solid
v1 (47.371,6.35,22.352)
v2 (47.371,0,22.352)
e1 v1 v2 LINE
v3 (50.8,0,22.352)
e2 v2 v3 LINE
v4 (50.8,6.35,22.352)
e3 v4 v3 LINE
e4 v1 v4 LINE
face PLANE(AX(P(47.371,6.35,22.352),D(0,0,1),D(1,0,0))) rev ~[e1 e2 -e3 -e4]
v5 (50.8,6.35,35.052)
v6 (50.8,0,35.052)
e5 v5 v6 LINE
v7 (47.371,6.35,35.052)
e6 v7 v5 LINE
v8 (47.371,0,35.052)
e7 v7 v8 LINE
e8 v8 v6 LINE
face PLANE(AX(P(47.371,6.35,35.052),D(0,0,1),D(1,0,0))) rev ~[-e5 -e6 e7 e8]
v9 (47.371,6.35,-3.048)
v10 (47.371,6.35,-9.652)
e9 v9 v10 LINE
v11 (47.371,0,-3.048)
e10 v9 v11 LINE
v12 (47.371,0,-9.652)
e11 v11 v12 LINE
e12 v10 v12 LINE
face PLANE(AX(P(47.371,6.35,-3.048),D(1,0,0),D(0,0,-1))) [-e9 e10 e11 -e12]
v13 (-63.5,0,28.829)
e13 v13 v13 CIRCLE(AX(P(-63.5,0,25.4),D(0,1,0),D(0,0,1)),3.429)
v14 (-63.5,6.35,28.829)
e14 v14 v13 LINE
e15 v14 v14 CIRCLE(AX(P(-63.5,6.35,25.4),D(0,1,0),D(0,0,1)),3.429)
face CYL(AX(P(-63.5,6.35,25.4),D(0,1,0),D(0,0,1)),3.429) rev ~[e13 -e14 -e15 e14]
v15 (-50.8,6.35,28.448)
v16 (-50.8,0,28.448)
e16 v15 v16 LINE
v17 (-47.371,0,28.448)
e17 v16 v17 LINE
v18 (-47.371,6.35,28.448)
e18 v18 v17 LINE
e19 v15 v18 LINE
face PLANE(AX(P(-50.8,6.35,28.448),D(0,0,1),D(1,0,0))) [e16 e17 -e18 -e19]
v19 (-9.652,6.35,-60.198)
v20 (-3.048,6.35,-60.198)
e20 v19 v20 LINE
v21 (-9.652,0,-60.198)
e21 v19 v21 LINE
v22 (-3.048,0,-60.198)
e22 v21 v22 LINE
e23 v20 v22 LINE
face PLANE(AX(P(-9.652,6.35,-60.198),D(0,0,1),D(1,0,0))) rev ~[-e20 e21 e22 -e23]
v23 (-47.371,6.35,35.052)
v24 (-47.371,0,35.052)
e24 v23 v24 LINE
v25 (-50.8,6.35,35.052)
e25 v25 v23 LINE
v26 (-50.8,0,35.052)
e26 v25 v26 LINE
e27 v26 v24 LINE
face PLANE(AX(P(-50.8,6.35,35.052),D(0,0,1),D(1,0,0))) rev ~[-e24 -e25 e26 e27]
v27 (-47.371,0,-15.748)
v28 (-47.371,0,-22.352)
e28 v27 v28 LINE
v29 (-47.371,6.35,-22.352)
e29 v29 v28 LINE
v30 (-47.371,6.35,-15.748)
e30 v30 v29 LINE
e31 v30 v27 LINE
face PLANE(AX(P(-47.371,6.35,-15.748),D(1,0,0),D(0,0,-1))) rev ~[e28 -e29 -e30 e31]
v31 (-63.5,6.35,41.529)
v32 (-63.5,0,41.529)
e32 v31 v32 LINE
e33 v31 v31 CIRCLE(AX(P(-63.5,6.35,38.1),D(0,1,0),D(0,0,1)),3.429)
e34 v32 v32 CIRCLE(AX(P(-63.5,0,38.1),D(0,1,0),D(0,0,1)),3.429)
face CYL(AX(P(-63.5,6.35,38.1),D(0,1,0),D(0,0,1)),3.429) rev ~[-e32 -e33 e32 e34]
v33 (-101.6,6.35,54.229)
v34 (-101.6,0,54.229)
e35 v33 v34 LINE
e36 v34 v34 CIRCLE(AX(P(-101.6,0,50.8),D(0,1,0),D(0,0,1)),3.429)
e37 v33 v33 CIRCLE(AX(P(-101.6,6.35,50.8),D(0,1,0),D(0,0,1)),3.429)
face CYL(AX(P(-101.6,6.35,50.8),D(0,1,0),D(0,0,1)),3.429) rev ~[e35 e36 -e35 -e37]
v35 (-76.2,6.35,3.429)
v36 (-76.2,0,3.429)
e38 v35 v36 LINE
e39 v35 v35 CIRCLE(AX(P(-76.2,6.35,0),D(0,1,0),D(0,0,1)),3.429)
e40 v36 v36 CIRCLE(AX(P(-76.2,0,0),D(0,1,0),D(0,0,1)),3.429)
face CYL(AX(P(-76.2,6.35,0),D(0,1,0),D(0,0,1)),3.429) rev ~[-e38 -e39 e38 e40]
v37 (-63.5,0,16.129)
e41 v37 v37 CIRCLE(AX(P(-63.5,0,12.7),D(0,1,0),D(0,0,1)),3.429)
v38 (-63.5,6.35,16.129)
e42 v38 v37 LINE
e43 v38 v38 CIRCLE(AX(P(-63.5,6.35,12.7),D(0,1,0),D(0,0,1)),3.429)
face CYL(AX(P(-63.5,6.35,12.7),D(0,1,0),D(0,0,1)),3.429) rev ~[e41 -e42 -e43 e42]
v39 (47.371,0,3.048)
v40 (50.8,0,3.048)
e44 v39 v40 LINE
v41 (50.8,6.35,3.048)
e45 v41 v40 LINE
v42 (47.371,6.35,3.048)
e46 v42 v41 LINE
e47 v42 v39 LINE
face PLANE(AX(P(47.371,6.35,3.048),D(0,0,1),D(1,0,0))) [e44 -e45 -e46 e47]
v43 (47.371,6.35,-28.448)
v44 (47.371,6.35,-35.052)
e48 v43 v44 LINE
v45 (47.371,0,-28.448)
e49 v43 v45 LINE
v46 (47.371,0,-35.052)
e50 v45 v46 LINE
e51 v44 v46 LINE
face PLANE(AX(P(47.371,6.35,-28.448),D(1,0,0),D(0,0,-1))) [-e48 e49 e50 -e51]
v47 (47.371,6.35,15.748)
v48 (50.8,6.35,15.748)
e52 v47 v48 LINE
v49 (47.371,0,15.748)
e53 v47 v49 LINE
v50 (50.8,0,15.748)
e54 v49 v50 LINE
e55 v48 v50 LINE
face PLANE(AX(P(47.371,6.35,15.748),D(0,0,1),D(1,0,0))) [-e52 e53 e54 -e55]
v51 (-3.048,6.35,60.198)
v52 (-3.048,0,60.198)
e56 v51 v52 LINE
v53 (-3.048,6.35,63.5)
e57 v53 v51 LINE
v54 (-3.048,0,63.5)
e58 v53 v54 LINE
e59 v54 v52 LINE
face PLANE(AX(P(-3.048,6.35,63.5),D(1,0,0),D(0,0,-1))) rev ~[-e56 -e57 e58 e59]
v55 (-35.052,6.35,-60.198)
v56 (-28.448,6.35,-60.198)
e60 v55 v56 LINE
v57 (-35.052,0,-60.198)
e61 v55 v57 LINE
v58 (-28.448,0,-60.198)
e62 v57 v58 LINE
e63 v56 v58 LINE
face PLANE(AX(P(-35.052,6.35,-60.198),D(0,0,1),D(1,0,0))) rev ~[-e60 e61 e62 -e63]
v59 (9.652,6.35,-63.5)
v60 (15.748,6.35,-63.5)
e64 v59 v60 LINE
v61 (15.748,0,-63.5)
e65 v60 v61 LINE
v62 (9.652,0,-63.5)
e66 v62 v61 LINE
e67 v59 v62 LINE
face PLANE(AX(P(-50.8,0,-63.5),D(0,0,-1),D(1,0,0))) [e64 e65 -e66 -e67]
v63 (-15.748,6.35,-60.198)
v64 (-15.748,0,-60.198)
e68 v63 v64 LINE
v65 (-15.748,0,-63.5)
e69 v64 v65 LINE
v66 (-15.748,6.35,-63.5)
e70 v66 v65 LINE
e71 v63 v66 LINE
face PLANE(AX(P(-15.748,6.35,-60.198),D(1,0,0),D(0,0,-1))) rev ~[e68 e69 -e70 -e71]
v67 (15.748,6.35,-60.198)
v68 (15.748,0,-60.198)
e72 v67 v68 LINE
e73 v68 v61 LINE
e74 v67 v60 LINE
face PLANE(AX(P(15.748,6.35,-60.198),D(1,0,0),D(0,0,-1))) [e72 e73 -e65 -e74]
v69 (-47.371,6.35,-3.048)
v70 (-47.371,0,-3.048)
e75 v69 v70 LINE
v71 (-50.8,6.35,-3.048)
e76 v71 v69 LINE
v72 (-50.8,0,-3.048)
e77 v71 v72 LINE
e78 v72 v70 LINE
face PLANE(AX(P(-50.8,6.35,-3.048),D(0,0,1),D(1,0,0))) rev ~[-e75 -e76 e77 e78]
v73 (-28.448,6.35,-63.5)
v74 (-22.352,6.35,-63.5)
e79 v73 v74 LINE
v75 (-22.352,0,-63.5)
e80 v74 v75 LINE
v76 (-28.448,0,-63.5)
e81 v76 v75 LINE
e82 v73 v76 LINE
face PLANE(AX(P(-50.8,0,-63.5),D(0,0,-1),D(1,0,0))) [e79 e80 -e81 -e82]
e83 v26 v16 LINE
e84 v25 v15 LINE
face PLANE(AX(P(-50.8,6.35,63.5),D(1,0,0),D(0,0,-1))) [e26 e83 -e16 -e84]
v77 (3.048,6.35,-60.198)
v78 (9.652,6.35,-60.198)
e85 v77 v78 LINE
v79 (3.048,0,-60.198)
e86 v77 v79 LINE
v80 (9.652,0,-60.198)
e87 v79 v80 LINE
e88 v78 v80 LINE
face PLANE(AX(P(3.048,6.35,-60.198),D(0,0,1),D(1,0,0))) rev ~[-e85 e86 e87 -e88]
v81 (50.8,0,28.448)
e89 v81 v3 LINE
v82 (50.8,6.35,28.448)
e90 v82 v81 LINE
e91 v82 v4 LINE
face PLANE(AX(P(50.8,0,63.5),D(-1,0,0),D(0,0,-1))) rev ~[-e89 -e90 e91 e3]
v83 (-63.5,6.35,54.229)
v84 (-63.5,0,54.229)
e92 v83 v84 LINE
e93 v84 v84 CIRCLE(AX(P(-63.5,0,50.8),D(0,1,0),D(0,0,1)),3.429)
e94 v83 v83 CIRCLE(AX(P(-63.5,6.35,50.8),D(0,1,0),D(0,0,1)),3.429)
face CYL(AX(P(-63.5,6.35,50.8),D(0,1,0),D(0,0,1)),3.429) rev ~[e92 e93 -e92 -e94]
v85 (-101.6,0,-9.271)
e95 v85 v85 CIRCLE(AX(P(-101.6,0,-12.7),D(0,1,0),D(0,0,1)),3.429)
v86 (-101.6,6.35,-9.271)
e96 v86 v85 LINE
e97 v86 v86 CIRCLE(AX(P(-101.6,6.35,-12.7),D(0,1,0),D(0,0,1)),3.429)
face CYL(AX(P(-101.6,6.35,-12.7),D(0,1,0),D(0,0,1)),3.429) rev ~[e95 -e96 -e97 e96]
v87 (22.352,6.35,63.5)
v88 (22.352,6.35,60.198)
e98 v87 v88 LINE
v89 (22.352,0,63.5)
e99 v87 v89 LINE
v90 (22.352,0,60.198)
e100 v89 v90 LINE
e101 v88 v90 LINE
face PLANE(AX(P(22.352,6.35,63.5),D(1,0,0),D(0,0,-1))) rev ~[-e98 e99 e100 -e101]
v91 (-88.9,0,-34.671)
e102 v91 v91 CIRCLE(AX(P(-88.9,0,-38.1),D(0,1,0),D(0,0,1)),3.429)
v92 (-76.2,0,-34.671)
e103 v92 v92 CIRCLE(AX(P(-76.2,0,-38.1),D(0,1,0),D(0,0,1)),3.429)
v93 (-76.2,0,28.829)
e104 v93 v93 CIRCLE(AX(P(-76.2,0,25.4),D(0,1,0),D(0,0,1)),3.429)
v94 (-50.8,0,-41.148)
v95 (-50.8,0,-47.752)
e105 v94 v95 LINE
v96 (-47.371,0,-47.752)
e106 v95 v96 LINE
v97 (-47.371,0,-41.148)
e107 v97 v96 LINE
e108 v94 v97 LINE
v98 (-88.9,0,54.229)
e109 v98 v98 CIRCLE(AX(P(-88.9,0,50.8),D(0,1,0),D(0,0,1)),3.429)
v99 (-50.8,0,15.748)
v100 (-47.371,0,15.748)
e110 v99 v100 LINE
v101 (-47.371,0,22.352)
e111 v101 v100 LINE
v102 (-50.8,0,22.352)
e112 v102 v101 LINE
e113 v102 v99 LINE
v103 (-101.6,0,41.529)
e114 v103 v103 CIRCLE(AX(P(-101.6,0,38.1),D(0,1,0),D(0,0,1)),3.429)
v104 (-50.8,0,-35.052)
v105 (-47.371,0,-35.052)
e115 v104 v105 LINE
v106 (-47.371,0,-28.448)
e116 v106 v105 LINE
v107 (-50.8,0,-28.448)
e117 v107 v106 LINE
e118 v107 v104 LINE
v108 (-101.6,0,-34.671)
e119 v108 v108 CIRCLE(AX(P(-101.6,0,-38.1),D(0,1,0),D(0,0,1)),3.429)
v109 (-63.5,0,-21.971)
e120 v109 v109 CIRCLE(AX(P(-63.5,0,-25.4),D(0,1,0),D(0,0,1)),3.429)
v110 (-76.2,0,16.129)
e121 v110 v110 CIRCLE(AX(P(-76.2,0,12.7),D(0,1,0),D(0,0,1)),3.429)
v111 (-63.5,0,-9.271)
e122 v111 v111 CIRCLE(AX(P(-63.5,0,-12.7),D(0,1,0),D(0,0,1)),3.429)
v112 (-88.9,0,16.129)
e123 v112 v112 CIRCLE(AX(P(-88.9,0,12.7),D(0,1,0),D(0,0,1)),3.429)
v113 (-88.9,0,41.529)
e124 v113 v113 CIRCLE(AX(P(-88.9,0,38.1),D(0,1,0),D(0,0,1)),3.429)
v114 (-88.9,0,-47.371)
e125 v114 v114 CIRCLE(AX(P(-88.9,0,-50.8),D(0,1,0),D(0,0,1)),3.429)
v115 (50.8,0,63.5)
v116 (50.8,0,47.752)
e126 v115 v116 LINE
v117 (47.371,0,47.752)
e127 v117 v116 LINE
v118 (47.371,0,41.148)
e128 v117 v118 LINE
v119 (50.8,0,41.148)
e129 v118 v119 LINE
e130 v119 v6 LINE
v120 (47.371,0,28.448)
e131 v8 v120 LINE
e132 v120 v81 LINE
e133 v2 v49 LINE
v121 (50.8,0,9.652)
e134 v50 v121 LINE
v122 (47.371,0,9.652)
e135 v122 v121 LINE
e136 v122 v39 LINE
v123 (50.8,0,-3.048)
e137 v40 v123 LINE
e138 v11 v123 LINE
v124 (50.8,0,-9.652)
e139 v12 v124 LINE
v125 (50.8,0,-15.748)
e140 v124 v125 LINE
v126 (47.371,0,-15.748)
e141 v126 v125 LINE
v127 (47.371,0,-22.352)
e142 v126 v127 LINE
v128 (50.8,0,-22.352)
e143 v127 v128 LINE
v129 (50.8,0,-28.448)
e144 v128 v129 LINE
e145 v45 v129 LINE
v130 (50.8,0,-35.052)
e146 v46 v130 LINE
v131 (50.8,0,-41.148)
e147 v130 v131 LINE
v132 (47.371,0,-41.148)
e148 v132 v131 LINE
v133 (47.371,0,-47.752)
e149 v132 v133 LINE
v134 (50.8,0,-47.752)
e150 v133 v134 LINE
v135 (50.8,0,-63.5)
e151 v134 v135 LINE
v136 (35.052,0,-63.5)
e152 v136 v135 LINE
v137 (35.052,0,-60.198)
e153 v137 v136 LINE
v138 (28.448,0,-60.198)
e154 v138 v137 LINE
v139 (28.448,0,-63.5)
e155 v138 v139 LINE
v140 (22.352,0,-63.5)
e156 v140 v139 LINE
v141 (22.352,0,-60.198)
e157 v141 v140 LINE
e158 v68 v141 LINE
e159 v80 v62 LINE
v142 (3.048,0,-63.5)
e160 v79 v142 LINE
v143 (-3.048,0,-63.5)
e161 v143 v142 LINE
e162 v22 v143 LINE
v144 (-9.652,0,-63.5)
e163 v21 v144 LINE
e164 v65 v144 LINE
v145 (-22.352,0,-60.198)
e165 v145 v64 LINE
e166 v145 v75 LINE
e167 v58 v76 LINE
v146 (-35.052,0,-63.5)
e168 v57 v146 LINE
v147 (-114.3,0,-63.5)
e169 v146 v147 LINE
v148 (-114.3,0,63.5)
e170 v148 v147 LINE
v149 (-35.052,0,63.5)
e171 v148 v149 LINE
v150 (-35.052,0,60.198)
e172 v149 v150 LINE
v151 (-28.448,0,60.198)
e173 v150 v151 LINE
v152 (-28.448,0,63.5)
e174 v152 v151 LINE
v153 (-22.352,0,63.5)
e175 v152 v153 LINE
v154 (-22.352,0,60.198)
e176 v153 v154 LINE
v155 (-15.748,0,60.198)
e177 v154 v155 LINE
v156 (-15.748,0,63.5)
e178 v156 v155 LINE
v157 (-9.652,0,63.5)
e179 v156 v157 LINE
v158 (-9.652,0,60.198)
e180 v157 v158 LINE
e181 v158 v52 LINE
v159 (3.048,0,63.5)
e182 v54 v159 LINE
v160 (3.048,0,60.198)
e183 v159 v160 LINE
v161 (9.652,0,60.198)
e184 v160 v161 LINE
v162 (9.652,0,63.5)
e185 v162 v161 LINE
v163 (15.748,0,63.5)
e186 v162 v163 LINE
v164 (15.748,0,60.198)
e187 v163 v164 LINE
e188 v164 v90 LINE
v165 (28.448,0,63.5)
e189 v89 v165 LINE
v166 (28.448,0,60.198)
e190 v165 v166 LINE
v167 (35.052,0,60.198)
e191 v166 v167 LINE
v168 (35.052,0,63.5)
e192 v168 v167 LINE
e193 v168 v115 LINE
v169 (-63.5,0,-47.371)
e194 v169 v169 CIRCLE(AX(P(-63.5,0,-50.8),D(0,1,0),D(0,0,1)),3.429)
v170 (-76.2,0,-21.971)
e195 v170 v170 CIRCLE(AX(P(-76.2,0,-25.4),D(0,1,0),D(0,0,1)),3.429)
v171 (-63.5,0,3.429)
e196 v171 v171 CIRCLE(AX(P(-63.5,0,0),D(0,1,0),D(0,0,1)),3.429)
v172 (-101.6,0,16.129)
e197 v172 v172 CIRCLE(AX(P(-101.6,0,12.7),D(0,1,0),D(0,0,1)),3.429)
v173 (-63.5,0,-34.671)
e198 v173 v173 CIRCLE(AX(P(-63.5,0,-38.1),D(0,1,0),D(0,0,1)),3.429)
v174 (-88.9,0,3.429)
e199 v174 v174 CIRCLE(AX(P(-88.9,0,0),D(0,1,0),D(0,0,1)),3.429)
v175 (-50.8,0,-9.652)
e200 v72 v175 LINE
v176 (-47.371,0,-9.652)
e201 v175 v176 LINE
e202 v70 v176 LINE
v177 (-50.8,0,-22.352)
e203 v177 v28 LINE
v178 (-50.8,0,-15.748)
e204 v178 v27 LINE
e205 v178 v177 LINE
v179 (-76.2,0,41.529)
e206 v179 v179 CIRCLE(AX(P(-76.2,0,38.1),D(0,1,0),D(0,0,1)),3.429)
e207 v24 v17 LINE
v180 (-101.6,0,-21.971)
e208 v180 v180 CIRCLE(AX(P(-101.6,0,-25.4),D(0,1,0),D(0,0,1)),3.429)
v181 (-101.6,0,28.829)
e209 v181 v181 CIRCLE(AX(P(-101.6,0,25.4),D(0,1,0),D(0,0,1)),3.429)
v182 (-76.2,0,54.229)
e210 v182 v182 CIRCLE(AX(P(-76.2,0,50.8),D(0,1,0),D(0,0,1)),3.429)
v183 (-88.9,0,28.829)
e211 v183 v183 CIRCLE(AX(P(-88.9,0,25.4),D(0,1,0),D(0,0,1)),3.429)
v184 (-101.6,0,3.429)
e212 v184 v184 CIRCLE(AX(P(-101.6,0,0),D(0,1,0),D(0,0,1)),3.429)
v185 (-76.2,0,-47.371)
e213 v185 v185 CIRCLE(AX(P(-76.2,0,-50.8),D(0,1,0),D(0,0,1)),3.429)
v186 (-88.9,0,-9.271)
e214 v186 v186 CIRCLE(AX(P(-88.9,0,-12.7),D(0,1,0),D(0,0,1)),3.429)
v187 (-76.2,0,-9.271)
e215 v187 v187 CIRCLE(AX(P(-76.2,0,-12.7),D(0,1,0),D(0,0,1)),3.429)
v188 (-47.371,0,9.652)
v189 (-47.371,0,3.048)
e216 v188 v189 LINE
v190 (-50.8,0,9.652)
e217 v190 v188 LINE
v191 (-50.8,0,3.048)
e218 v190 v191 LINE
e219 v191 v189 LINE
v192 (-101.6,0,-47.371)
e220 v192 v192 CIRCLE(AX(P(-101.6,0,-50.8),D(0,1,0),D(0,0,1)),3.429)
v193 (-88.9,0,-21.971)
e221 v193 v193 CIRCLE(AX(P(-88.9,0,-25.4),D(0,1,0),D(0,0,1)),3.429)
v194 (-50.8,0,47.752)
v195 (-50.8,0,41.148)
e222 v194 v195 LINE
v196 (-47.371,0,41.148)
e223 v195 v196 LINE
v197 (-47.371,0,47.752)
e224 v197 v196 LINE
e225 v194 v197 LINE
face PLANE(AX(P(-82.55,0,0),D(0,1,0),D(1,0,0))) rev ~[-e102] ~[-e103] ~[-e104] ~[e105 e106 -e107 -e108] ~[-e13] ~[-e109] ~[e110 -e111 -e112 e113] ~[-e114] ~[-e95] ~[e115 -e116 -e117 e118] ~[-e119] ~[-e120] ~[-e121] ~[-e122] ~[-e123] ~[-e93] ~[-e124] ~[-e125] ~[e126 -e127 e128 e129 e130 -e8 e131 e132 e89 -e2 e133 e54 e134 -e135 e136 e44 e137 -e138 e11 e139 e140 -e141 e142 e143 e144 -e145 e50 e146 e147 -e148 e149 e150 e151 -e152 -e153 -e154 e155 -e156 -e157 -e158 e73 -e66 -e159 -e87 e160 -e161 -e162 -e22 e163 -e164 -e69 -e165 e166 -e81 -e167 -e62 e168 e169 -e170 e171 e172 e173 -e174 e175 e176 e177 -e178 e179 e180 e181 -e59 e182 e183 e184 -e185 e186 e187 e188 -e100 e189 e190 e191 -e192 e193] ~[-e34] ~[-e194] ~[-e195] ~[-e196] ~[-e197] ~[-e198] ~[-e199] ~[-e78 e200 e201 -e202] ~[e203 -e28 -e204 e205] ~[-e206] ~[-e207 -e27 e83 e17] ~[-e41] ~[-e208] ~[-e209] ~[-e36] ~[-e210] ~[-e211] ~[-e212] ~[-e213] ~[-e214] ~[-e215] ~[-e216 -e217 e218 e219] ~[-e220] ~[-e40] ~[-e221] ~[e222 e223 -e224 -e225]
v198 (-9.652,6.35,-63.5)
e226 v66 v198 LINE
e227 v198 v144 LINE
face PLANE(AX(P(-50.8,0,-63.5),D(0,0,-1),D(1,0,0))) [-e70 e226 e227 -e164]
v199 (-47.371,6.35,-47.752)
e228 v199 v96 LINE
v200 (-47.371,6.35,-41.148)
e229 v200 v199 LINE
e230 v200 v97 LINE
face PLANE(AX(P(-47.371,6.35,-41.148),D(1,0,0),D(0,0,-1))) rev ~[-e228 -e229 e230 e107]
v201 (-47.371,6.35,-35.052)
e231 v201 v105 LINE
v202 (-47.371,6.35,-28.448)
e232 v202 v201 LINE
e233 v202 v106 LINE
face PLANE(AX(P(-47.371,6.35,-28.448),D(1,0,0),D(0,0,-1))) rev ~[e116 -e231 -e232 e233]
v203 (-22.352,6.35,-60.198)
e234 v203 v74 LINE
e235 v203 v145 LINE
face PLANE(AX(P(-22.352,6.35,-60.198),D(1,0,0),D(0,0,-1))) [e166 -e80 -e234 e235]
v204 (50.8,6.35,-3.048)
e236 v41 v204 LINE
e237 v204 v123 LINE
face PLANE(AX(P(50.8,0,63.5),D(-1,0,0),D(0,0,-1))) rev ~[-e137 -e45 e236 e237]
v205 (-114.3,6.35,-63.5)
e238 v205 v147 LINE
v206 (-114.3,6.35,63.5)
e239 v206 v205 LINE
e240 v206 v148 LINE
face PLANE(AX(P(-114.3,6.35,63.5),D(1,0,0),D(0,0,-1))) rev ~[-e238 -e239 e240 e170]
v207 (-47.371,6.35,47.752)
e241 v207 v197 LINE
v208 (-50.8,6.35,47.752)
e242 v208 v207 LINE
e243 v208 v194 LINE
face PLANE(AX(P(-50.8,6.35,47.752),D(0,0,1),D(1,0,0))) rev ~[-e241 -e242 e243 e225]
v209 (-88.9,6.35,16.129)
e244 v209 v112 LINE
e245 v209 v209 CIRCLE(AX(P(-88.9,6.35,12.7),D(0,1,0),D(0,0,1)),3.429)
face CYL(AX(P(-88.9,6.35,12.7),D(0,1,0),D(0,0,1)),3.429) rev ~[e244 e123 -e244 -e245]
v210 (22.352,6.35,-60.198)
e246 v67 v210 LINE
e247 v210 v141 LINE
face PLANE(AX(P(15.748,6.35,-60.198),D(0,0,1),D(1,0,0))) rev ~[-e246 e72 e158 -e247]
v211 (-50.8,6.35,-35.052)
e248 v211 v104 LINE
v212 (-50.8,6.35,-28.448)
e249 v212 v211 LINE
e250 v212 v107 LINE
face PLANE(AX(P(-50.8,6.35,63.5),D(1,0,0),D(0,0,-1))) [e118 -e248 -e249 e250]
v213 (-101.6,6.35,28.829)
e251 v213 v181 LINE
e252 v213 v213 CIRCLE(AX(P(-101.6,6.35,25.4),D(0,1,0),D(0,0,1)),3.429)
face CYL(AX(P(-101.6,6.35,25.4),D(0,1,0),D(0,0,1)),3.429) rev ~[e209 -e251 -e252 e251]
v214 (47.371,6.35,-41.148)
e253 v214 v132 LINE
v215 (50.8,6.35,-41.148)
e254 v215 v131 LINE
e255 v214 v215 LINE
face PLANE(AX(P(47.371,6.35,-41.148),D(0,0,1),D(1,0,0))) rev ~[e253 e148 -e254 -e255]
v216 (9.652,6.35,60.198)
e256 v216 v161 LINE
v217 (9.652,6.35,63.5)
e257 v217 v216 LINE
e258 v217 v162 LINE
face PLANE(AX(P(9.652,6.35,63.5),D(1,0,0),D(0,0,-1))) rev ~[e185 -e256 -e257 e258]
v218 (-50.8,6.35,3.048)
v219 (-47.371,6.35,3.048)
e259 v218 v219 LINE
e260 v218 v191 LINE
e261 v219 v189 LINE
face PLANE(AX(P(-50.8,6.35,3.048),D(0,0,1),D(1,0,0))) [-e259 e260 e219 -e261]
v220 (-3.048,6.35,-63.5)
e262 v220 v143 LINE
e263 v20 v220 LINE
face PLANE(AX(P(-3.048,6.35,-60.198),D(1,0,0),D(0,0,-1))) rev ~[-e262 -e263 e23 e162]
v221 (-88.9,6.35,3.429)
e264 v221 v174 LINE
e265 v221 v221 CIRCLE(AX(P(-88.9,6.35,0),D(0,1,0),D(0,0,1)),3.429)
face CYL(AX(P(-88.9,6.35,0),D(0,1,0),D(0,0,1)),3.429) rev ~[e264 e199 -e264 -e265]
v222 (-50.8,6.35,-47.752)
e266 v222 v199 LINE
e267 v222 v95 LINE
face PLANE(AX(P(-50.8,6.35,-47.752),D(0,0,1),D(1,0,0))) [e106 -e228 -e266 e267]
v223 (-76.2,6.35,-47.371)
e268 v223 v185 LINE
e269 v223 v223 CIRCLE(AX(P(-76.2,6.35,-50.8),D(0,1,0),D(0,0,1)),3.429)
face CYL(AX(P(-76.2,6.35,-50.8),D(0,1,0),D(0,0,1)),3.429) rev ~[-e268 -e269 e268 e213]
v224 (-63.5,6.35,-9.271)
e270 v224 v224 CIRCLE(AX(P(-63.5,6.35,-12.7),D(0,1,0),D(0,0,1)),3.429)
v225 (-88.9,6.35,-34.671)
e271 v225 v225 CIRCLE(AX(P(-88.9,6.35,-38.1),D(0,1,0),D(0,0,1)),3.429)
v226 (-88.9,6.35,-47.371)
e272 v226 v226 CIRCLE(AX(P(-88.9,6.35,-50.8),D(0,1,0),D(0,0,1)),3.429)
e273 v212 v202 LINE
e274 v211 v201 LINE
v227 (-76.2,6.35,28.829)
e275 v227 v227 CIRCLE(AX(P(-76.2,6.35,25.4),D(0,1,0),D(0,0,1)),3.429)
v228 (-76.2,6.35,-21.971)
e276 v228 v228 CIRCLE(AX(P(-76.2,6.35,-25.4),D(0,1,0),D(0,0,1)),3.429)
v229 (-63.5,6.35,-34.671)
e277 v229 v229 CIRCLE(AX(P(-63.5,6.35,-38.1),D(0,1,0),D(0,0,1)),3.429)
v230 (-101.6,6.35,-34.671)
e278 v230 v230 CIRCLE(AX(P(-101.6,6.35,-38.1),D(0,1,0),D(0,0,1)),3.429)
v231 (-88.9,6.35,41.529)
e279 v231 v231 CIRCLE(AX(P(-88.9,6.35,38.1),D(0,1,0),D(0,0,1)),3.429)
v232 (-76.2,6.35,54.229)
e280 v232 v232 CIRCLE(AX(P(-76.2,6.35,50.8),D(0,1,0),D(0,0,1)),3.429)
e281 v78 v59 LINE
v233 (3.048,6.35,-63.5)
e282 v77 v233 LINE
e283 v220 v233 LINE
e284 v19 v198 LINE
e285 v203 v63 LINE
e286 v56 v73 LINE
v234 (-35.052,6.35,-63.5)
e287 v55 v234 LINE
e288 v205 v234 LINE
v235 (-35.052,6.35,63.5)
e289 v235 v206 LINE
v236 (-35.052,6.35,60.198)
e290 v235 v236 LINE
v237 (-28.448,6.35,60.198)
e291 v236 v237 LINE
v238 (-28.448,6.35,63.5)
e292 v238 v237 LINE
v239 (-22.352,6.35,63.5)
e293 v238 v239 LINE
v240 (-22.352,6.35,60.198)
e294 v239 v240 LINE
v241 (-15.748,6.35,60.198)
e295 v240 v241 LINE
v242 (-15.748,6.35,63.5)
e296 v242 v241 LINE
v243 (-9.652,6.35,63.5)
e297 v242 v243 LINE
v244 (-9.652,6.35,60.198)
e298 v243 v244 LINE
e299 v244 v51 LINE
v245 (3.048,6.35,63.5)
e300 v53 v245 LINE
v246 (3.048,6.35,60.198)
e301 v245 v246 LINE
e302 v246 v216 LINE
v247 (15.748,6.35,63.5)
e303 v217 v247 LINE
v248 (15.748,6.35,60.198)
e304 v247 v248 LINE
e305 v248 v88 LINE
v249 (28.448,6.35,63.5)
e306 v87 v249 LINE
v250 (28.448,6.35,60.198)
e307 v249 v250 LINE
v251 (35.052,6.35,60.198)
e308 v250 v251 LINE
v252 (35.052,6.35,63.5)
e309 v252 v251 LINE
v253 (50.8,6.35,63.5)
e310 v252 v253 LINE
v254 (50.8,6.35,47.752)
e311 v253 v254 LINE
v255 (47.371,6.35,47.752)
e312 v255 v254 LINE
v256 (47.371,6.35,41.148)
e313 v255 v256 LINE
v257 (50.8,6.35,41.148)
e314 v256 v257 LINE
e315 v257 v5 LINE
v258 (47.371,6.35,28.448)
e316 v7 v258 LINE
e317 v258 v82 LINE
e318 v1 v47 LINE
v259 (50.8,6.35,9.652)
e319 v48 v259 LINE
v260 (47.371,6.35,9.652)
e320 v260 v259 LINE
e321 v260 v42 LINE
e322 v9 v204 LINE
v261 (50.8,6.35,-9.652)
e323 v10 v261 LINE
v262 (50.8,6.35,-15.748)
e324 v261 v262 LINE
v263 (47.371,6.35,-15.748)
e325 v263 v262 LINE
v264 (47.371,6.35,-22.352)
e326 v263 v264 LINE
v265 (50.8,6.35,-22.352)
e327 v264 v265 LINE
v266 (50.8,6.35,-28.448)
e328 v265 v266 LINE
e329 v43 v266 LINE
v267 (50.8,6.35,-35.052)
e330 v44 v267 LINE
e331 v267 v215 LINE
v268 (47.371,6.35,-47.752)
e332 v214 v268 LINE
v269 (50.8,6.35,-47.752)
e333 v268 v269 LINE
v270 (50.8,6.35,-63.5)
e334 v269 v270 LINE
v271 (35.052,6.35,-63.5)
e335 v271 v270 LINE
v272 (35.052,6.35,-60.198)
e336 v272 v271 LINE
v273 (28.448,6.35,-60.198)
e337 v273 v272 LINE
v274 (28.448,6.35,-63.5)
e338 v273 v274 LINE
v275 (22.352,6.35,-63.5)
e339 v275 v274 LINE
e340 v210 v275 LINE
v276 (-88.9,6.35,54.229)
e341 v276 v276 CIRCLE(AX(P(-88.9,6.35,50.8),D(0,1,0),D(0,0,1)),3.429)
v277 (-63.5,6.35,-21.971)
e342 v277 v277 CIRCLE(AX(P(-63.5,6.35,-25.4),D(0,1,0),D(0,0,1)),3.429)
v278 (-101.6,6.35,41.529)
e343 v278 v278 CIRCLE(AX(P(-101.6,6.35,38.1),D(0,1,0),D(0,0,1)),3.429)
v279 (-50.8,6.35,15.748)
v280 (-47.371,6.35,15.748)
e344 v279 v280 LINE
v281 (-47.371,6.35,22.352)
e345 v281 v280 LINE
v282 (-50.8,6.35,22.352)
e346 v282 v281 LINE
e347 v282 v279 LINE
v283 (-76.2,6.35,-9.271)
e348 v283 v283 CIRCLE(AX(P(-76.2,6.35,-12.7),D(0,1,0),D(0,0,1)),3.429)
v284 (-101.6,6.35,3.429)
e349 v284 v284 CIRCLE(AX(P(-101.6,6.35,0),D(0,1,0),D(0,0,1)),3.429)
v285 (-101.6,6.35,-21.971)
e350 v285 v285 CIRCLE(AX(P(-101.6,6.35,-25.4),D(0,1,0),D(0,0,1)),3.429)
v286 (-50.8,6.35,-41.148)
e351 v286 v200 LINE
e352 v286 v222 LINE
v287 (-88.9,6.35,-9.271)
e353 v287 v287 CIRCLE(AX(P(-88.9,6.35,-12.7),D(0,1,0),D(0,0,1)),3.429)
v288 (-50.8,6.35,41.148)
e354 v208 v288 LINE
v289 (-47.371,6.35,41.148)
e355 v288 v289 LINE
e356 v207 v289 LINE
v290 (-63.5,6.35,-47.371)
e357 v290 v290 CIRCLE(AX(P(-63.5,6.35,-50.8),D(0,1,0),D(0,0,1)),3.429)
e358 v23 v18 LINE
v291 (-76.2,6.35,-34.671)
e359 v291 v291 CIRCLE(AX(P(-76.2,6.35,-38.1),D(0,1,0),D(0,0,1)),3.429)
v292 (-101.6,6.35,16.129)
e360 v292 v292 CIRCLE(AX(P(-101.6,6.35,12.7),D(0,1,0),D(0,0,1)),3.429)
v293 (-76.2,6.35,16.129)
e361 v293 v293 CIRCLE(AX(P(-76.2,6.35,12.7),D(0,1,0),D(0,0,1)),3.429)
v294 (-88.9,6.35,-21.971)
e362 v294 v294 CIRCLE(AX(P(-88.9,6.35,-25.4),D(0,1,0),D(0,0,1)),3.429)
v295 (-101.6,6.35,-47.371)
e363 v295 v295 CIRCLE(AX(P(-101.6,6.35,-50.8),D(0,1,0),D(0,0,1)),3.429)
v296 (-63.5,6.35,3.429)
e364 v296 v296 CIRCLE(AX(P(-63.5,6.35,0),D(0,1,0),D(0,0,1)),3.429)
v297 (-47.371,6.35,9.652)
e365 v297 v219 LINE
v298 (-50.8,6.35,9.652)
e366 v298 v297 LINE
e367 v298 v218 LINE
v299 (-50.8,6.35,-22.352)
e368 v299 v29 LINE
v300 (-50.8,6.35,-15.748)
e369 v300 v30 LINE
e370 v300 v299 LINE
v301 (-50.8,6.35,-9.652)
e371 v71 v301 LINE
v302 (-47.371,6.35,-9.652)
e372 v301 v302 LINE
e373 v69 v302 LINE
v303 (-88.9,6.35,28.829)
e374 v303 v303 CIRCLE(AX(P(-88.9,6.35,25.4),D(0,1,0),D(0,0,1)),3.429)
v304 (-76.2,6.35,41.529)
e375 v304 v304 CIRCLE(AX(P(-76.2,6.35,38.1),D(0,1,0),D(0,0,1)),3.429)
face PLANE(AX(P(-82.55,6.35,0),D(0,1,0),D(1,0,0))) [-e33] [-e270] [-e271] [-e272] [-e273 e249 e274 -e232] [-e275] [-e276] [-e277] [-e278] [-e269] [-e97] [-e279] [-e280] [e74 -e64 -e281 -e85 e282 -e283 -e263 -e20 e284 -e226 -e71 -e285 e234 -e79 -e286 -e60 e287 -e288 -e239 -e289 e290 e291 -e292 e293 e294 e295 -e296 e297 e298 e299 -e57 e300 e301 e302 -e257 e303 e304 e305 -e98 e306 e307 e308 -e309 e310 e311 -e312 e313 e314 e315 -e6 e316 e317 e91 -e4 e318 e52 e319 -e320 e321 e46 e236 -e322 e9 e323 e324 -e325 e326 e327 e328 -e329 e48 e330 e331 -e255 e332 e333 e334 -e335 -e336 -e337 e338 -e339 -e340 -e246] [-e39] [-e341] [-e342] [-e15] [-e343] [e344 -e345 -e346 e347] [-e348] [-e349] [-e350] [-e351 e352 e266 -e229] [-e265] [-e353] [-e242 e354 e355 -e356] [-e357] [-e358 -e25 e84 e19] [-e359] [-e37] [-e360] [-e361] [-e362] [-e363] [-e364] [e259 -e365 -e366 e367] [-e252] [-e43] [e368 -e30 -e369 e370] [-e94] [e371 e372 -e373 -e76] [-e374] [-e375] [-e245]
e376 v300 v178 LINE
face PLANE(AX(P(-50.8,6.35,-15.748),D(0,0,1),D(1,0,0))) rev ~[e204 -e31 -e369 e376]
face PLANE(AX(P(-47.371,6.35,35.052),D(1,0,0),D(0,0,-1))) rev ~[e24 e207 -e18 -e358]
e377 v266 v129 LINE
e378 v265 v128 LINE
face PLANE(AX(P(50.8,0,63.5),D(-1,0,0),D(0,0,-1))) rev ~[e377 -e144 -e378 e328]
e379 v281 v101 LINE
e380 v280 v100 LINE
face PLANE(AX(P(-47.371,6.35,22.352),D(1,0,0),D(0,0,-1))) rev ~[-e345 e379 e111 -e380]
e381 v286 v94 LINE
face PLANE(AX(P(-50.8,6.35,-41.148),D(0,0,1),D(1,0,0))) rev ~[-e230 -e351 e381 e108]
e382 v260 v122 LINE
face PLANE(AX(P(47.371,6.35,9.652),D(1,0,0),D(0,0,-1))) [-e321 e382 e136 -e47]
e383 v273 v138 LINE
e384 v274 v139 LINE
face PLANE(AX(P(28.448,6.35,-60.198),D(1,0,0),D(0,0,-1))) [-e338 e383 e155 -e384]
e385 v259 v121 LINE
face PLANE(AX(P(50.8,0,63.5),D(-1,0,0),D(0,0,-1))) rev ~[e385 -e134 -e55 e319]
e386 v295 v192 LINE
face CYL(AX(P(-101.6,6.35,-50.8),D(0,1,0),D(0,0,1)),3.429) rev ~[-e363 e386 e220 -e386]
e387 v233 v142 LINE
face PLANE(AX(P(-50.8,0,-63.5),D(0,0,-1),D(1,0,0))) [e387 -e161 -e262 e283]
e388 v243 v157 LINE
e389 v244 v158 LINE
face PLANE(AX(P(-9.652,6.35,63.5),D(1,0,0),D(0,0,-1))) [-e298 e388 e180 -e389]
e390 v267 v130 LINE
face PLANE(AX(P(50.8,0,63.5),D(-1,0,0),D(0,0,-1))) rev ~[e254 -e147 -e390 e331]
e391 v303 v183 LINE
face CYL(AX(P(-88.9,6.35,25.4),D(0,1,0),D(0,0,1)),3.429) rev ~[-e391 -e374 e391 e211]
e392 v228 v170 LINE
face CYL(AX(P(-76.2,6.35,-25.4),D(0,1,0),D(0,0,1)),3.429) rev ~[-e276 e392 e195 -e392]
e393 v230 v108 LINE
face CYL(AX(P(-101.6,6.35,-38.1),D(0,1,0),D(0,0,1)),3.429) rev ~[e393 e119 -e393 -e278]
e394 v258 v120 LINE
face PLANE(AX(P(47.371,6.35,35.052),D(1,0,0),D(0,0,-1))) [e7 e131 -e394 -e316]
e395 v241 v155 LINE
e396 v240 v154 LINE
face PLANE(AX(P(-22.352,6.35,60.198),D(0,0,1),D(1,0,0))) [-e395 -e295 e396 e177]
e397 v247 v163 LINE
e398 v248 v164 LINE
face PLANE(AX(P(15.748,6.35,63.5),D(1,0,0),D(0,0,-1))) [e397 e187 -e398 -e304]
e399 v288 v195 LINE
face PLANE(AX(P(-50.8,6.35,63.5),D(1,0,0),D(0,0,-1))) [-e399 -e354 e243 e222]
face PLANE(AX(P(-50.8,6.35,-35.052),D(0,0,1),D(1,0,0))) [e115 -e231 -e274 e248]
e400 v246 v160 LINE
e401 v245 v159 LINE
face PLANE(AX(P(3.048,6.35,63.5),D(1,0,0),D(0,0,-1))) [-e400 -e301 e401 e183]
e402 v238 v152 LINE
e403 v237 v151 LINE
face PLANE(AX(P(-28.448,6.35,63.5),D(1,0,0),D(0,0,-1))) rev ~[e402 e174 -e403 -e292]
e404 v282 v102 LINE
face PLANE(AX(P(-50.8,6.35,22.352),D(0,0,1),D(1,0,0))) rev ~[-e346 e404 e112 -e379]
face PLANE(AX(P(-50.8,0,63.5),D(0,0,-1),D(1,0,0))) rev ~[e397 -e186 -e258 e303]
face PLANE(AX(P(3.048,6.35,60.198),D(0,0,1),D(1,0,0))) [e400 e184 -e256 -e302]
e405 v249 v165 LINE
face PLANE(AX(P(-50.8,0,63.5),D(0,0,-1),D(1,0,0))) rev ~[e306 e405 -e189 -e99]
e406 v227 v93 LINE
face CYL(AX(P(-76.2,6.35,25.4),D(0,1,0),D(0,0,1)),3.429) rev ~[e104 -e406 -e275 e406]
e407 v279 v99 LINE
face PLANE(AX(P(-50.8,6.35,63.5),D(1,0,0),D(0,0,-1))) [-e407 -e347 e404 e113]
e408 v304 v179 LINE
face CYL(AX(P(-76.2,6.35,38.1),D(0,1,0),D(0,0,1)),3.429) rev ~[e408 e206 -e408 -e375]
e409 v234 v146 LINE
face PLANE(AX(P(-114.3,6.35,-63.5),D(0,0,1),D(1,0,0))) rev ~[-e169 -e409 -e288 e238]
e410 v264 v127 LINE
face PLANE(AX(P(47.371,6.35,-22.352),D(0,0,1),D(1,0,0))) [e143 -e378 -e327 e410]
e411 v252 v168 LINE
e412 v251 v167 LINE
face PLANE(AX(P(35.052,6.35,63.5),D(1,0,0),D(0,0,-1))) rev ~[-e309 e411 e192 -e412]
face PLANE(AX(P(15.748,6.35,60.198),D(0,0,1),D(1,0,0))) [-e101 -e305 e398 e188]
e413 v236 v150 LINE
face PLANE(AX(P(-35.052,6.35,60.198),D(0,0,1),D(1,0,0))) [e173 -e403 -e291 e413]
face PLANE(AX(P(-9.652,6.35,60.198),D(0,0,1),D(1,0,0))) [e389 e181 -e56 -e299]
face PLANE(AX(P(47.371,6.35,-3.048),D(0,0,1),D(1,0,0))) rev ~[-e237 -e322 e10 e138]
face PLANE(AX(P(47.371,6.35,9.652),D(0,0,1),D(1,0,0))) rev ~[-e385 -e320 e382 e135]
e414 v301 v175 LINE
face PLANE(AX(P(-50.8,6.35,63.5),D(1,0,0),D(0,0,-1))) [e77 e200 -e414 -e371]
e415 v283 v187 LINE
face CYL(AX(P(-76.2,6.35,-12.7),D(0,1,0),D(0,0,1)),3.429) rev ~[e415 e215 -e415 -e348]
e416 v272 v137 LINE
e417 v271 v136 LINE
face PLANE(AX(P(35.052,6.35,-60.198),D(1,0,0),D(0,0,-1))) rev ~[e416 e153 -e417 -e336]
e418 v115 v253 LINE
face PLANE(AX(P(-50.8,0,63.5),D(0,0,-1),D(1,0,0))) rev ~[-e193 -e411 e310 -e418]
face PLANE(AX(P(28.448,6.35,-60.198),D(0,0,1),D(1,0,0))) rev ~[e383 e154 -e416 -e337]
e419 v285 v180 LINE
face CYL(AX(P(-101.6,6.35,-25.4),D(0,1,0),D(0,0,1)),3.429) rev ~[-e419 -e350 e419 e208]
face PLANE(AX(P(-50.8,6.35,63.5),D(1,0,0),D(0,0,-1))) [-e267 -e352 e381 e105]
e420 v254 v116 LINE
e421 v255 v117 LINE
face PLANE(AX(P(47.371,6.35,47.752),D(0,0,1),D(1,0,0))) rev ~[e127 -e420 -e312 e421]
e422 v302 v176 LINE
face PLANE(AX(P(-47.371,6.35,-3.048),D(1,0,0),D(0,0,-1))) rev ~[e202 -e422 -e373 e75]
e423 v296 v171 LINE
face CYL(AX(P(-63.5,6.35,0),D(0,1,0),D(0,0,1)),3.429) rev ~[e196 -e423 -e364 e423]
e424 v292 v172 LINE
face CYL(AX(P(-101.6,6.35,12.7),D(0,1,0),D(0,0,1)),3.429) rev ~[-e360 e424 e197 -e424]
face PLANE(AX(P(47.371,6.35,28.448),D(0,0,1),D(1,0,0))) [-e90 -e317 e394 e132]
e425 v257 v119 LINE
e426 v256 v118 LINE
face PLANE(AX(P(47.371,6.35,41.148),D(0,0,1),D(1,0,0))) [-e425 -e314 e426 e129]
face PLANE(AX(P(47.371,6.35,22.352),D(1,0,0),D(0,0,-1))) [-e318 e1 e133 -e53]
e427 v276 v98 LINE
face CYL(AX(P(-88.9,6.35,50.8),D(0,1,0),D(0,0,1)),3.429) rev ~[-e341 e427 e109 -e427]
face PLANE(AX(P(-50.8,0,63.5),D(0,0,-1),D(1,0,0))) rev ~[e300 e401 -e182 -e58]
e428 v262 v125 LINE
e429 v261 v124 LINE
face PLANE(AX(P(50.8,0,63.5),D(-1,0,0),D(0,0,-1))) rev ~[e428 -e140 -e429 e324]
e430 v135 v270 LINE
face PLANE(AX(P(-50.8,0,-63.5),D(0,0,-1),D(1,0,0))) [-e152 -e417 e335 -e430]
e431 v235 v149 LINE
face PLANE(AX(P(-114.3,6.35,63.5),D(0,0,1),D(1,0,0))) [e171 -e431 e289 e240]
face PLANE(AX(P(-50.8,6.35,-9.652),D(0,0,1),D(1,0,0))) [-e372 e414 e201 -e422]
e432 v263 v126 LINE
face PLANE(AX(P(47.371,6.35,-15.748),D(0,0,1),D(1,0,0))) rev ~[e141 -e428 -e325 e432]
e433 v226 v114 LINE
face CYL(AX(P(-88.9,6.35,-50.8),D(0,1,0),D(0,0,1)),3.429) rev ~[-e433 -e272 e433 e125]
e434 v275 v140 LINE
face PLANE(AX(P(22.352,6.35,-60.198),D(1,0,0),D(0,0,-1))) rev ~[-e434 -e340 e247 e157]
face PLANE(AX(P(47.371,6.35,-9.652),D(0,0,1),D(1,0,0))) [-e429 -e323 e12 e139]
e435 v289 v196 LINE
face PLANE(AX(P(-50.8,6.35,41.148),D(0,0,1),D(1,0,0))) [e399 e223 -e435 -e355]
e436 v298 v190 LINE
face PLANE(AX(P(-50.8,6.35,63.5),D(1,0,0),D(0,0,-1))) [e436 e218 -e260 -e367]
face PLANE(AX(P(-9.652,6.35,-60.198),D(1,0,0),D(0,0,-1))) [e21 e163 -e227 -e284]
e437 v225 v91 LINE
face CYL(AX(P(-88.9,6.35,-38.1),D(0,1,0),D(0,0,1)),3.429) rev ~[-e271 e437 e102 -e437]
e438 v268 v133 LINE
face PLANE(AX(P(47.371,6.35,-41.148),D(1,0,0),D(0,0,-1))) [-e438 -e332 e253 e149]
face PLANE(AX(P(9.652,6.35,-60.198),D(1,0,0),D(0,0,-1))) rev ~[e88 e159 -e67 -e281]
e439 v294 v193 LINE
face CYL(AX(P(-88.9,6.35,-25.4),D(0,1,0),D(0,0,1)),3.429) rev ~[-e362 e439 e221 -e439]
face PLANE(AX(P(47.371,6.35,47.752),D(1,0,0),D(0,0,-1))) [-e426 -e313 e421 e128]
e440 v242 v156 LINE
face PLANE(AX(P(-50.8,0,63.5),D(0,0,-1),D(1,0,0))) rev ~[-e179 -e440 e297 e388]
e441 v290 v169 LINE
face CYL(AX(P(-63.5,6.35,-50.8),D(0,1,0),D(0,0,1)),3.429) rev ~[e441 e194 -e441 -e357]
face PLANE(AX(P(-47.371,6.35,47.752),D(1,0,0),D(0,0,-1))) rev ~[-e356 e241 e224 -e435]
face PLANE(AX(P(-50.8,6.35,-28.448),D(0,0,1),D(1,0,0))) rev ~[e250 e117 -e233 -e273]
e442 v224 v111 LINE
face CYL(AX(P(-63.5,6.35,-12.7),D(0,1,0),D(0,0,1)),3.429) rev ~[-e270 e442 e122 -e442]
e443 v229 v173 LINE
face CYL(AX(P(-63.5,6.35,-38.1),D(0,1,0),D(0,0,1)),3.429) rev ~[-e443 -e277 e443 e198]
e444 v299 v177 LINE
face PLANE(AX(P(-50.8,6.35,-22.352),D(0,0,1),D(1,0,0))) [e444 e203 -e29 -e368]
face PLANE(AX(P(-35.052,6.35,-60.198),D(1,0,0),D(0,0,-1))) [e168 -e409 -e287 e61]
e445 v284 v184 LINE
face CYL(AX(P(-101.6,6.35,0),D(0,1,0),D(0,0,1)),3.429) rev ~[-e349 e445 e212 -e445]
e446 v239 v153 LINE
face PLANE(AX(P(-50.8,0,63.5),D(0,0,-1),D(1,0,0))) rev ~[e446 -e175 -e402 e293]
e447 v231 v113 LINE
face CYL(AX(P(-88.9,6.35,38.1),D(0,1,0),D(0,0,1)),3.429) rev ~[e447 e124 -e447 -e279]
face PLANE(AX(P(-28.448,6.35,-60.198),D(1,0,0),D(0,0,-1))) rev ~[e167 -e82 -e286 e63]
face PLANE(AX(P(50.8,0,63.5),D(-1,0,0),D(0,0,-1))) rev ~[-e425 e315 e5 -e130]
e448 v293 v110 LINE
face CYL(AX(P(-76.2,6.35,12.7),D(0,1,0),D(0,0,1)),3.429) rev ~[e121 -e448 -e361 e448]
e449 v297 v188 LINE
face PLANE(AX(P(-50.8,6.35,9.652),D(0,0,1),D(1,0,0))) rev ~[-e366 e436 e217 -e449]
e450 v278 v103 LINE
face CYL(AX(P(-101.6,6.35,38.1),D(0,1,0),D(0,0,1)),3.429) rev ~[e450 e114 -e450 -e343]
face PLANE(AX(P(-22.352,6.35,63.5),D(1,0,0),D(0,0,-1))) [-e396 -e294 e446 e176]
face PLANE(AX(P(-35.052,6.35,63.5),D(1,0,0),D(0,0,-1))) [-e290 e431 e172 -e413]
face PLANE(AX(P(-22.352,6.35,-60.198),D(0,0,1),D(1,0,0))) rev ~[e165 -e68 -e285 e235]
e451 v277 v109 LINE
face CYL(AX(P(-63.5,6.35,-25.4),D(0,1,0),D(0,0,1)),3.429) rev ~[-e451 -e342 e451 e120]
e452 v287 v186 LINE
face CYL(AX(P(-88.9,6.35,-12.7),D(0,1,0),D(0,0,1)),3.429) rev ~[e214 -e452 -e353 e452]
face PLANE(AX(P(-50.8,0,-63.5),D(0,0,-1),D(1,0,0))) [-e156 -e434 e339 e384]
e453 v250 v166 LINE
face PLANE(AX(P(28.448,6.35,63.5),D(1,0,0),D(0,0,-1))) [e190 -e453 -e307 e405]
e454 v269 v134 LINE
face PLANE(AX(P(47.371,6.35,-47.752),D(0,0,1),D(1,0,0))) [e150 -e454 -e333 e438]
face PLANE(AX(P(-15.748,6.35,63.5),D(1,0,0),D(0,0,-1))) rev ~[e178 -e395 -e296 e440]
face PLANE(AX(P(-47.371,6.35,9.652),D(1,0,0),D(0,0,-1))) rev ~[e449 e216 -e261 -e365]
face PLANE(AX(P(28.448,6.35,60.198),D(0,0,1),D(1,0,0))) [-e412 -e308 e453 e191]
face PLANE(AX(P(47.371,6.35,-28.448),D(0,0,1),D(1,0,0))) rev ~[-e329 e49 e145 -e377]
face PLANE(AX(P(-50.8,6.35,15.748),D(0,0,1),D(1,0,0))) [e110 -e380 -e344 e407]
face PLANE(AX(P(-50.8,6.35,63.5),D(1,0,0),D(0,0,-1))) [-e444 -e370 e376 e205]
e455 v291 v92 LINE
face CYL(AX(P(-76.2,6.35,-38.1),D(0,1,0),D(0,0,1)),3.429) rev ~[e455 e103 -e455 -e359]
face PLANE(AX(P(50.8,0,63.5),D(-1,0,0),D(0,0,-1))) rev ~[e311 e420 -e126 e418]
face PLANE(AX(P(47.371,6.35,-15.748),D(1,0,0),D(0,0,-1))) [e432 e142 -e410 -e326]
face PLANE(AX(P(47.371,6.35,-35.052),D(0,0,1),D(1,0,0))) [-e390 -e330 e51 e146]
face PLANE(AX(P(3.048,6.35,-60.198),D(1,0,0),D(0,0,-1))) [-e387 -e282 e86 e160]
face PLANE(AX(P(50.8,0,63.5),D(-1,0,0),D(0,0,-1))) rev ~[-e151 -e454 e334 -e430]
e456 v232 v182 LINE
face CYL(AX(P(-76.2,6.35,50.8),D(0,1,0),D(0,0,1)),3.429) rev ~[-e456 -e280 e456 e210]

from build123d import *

# Parameters (mm, degrees)
SKETCH1_W           = 101.6
SKETCH1_H           = 127
BOSS_EXTRUDE1_DEPTH = 6.35
SKETCH2_W           = 6.604
SKETCH2_H           = 3.302
SKETCH2_W_2         = 3.429
SKETCH2_H_2         = 6.604
CUT_EXTRUDE1_DEPTH  = 82.567226875
SKETCH3_W           = 63.5
SKETCH3_H           = 127
SKETCH3_R           = 3.429
BOSS_EXTRUDE2_DEPTH = 6.35


with BuildPart() as part:
    # Sketch1 → Boss-Extrude1 (new body)
    with BuildSketch(Plane(origin=(0, 0, 0), x_dir=(1, 0, 0), z_dir=(0, 1, 0))):
        Rectangle(SKETCH1_W, SKETCH1_H)
    extrude(amount=BOSS_EXTRUDE1_DEPTH)

    # Sketch2 → Cut-Extrude1 (cut, through all)
    with BuildSketch(Plane(origin=(0, 6.35, 0), x_dir=(1, 0, 0), z_dir=(0, 1, 0))):
        with Locations((-31.75, -61.849)):
            Rectangle(SKETCH2_W, SKETCH2_H)
        with Locations((-19.05, -61.849)):
            Rectangle(SKETCH2_W, SKETCH2_H)
        with Locations((-6.35, -61.849)):
            Rectangle(SKETCH2_W, SKETCH2_H)
        with Locations((6.35, -61.849)):
            Rectangle(SKETCH2_W, SKETCH2_H)
        with Locations((19.05, -61.849)):
            Rectangle(SKETCH2_W, SKETCH2_H)
        with Locations((31.75, -61.849)):
            Rectangle(SKETCH2_W, SKETCH2_H)
        with Locations((31.75, 61.849)):
            Rectangle(SKETCH2_W, SKETCH2_H)
        with Locations((19.05, 61.849)):
            Rectangle(SKETCH2_W, SKETCH2_H)
        with Locations((6.35, 61.849)):
            Rectangle(SKETCH2_W, SKETCH2_H)
        with Locations((-6.35, 61.849)):
            Rectangle(SKETCH2_W, SKETCH2_H)
        with Locations((-19.05, 61.849)):
            Rectangle(SKETCH2_W, SKETCH2_H)
        with Locations((-31.75, 61.849)):
            Rectangle(SKETCH2_W, SKETCH2_H)
        with Locations((-49.0855, 31.75)):
            Rectangle(SKETCH2_W_2, SKETCH2_H_2)
        with Locations((-49.0855, 19.05)):
            Rectangle(SKETCH2_W_2, SKETCH2_H_2)
        with Locations((-49.0855, 6.35)):
            Rectangle(SKETCH2_W_2, SKETCH2_H_2)
        with Locations((-49.0855, -6.35)):
            Rectangle(SKETCH2_W_2, SKETCH2_H_2)
        with Locations((-49.0855, -19.05)):
            Rectangle(SKETCH2_W_2, SKETCH2_H_2)
        with Locations((-49.0855, -31.75)):
            Rectangle(SKETCH2_W_2, SKETCH2_H_2)
        with Locations((49.0855, -31.75)):
            Rectangle(SKETCH2_W_2, SKETCH2_H_2)
        with Locations((49.0855, -19.05)):
            Rectangle(SKETCH2_W_2, SKETCH2_H_2)
        with Locations((49.0855, -6.35)):
            Rectangle(SKETCH2_W_2, SKETCH2_H_2)
        with Locations((49.0855, 6.35)):
            Rectangle(SKETCH2_W_2, SKETCH2_H_2)
        with Locations((49.0855, 19.05)):
            Rectangle(SKETCH2_W_2, SKETCH2_H_2)
        with Locations((49.0855, 31.75)):
            Rectangle(SKETCH2_W_2, SKETCH2_H_2)
        with Locations((-49.0855, 44.45)):
            Rectangle(SKETCH2_W_2, SKETCH2_H_2)
        with Locations((-49.0855, -44.45)):
            Rectangle(SKETCH2_W_2, SKETCH2_H_2)
        with Locations((49.0855, -44.45)):
            Rectangle(SKETCH2_W_2, SKETCH2_H_2)
        with Locations((49.0855, 44.45)):
            Rectangle(SKETCH2_W_2, SKETCH2_H_2)
    extrude(amount=-CUT_EXTRUDE1_DEPTH, mode=Mode.SUBTRACT)

    # Sketch3 → Boss-Extrude2 (add)
    with BuildSketch(Plane(origin=(0, 6.35, 0), x_dir=(1, 0, 0), z_dir=(0, 1, 0))):
        with Locations((-82.55, 0)):
            Rectangle(SKETCH3_W, SKETCH3_H)
        with Locations(Location((-101.6, 50.8, 0), (0, 0, 270))):
            Circle(SKETCH3_R, mode=Mode.SUBTRACT)
        with Locations(Location((-88.9, 50.8, 0), (0, 0, 270))):
            Circle(SKETCH3_R, mode=Mode.SUBTRACT)
        with Locations(Location((-88.9, 38.1, 0), (0, 0, 270))):
            Circle(SKETCH3_R, mode=Mode.SUBTRACT)
        with Locations(Location((-101.6, 38.1, 0), (0, 0, 270))):
            Circle(SKETCH3_R, mode=Mode.SUBTRACT)
        with Locations(Location((-101.6, 25.4, 0), (0, 0, 270))):
            Circle(SKETCH3_R, mode=Mode.SUBTRACT)
        with Locations(Location((-88.9, 25.4, 0), (0, 0, 270))):
            Circle(SKETCH3_R, mode=Mode.SUBTRACT)
        with Locations(Location((-76.2, 50.8, 0), (0, 0, 270))):
            Circle(SKETCH3_R, mode=Mode.SUBTRACT)
        with Locations(Location((-63.5, 50.8, 0), (0, 0, 270))):
            Circle(SKETCH3_R, mode=Mode.SUBTRACT)
        with Locations(Location((-76.2, 38.1, 0), (0, 0, 270))):
            Circle(SKETCH3_R, mode=Mode.SUBTRACT)
        with Locations(Location((-63.5, 38.1, 0), (0, 0, 270))):
            Circle(SKETCH3_R, mode=Mode.SUBTRACT)
        with Locations(Location((-76.2, 25.4, 0), (0, 0, 270))):
            Circle(SKETCH3_R, mode=Mode.SUBTRACT)
        with Locations(Location((-63.5, 25.4, 0), (0, 0, 270))):
            Circle(SKETCH3_R, mode=Mode.SUBTRACT)
        with Locations(Location((-101.6, 12.7, 0), (0, 0, 270))):
            Circle(SKETCH3_R, mode=Mode.SUBTRACT)
        with Locations(Location((-88.9, 12.7, 0), (0, 0, 270))):
            Circle(SKETCH3_R, mode=Mode.SUBTRACT)
        with Locations(Location((-76.2, 12.7, 0), (0, 0, 270))):
            Circle(SKETCH3_R, mode=Mode.SUBTRACT)
        with Locations(Location((-63.5, 12.7, 0), (0, 0, 270))):
            Circle(SKETCH3_R, mode=Mode.SUBTRACT)
        with Locations(Location((-101.6, 0, 0), (0, 0, 270))):
            Circle(SKETCH3_R, mode=Mode.SUBTRACT)
        with Locations(Location((-88.9, 0, 0), (0, 0, 270))):
            Circle(SKETCH3_R, mode=Mode.SUBTRACT)
        with Locations(Location((-76.2, 0, 0), (0, 0, 270))):
            Circle(SKETCH3_R, mode=Mode.SUBTRACT)
        with Locations(Location((-63.5, 0, 0), (0, 0, 270))):
            Circle(SKETCH3_R, mode=Mode.SUBTRACT)
        with Locations(Location((-101.6, -12.7, 0), (0, 0, 270))):
            Circle(SKETCH3_R, mode=Mode.SUBTRACT)
        with Locations(Location((-88.9, -12.7, 0), (0, 0, 270))):
            Circle(SKETCH3_R, mode=Mode.SUBTRACT)
        with Locations(Location((-76.2, -12.7, 0), (0, 0, 270))):
            Circle(SKETCH3_R, mode=Mode.SUBTRACT)
        with Locations(Location((-63.5, -12.7, 0), (0, 0, 270))):
            Circle(SKETCH3_R, mode=Mode.SUBTRACT)
        with Locations(Location((-101.6, -25.4, 0), (0, 0, 270))):
            Circle(SKETCH3_R, mode=Mode.SUBTRACT)
        with Locations(Location((-88.9, -25.4, 0), (0, 0, 270))):
            Circle(SKETCH3_R, mode=Mode.SUBTRACT)
        with Locations(Location((-76.2, -25.4, 0), (0, 0, 270))):
            Circle(SKETCH3_R, mode=Mode.SUBTRACT)
        with Locations(Location((-63.5, -25.4, 0), (0, 0, 270))):
            Circle(SKETCH3_R, mode=Mode.SUBTRACT)
        with Locations(Location((-101.6, -38.1, 0), (0, 0, 270))):
            Circle(SKETCH3_R, mode=Mode.SUBTRACT)
        with Locations(Location((-88.9, -38.1, 0), (0, 0, 270))):
            Circle(SKETCH3_R, mode=Mode.SUBTRACT)
        with Locations(Location((-76.2, -38.1, 0), (0, 0, 270))):
            Circle(SKETCH3_R, mode=Mode.SUBTRACT)
        with Locations(Location((-63.5, -38.1, 0), (0, 0, 270))):
            Circle(SKETCH3_R, mode=Mode.SUBTRACT)
        with Locations(Location((-101.6, -50.8, 0), (0, 0, 270))):
            Circle(SKETCH3_R, mode=Mode.SUBTRACT)
        with Locations(Location((-88.9, -50.8, 0), (0, 0, 270))):
            Circle(SKETCH3_R, mode=Mode.SUBTRACT)
        with Locations(Location((-76.2, -50.8, 0), (0, 0, 270))):
            Circle(SKETCH3_R, mode=Mode.SUBTRACT)
        with Locations(Location((-63.5, -50.8, 0), (0, 0, 270))):
            Circle(SKETCH3_R, mode=Mode.SUBTRACT)
    extrude(amount=-BOSS_EXTRUDE2_DEPTH)


solid = part.part
